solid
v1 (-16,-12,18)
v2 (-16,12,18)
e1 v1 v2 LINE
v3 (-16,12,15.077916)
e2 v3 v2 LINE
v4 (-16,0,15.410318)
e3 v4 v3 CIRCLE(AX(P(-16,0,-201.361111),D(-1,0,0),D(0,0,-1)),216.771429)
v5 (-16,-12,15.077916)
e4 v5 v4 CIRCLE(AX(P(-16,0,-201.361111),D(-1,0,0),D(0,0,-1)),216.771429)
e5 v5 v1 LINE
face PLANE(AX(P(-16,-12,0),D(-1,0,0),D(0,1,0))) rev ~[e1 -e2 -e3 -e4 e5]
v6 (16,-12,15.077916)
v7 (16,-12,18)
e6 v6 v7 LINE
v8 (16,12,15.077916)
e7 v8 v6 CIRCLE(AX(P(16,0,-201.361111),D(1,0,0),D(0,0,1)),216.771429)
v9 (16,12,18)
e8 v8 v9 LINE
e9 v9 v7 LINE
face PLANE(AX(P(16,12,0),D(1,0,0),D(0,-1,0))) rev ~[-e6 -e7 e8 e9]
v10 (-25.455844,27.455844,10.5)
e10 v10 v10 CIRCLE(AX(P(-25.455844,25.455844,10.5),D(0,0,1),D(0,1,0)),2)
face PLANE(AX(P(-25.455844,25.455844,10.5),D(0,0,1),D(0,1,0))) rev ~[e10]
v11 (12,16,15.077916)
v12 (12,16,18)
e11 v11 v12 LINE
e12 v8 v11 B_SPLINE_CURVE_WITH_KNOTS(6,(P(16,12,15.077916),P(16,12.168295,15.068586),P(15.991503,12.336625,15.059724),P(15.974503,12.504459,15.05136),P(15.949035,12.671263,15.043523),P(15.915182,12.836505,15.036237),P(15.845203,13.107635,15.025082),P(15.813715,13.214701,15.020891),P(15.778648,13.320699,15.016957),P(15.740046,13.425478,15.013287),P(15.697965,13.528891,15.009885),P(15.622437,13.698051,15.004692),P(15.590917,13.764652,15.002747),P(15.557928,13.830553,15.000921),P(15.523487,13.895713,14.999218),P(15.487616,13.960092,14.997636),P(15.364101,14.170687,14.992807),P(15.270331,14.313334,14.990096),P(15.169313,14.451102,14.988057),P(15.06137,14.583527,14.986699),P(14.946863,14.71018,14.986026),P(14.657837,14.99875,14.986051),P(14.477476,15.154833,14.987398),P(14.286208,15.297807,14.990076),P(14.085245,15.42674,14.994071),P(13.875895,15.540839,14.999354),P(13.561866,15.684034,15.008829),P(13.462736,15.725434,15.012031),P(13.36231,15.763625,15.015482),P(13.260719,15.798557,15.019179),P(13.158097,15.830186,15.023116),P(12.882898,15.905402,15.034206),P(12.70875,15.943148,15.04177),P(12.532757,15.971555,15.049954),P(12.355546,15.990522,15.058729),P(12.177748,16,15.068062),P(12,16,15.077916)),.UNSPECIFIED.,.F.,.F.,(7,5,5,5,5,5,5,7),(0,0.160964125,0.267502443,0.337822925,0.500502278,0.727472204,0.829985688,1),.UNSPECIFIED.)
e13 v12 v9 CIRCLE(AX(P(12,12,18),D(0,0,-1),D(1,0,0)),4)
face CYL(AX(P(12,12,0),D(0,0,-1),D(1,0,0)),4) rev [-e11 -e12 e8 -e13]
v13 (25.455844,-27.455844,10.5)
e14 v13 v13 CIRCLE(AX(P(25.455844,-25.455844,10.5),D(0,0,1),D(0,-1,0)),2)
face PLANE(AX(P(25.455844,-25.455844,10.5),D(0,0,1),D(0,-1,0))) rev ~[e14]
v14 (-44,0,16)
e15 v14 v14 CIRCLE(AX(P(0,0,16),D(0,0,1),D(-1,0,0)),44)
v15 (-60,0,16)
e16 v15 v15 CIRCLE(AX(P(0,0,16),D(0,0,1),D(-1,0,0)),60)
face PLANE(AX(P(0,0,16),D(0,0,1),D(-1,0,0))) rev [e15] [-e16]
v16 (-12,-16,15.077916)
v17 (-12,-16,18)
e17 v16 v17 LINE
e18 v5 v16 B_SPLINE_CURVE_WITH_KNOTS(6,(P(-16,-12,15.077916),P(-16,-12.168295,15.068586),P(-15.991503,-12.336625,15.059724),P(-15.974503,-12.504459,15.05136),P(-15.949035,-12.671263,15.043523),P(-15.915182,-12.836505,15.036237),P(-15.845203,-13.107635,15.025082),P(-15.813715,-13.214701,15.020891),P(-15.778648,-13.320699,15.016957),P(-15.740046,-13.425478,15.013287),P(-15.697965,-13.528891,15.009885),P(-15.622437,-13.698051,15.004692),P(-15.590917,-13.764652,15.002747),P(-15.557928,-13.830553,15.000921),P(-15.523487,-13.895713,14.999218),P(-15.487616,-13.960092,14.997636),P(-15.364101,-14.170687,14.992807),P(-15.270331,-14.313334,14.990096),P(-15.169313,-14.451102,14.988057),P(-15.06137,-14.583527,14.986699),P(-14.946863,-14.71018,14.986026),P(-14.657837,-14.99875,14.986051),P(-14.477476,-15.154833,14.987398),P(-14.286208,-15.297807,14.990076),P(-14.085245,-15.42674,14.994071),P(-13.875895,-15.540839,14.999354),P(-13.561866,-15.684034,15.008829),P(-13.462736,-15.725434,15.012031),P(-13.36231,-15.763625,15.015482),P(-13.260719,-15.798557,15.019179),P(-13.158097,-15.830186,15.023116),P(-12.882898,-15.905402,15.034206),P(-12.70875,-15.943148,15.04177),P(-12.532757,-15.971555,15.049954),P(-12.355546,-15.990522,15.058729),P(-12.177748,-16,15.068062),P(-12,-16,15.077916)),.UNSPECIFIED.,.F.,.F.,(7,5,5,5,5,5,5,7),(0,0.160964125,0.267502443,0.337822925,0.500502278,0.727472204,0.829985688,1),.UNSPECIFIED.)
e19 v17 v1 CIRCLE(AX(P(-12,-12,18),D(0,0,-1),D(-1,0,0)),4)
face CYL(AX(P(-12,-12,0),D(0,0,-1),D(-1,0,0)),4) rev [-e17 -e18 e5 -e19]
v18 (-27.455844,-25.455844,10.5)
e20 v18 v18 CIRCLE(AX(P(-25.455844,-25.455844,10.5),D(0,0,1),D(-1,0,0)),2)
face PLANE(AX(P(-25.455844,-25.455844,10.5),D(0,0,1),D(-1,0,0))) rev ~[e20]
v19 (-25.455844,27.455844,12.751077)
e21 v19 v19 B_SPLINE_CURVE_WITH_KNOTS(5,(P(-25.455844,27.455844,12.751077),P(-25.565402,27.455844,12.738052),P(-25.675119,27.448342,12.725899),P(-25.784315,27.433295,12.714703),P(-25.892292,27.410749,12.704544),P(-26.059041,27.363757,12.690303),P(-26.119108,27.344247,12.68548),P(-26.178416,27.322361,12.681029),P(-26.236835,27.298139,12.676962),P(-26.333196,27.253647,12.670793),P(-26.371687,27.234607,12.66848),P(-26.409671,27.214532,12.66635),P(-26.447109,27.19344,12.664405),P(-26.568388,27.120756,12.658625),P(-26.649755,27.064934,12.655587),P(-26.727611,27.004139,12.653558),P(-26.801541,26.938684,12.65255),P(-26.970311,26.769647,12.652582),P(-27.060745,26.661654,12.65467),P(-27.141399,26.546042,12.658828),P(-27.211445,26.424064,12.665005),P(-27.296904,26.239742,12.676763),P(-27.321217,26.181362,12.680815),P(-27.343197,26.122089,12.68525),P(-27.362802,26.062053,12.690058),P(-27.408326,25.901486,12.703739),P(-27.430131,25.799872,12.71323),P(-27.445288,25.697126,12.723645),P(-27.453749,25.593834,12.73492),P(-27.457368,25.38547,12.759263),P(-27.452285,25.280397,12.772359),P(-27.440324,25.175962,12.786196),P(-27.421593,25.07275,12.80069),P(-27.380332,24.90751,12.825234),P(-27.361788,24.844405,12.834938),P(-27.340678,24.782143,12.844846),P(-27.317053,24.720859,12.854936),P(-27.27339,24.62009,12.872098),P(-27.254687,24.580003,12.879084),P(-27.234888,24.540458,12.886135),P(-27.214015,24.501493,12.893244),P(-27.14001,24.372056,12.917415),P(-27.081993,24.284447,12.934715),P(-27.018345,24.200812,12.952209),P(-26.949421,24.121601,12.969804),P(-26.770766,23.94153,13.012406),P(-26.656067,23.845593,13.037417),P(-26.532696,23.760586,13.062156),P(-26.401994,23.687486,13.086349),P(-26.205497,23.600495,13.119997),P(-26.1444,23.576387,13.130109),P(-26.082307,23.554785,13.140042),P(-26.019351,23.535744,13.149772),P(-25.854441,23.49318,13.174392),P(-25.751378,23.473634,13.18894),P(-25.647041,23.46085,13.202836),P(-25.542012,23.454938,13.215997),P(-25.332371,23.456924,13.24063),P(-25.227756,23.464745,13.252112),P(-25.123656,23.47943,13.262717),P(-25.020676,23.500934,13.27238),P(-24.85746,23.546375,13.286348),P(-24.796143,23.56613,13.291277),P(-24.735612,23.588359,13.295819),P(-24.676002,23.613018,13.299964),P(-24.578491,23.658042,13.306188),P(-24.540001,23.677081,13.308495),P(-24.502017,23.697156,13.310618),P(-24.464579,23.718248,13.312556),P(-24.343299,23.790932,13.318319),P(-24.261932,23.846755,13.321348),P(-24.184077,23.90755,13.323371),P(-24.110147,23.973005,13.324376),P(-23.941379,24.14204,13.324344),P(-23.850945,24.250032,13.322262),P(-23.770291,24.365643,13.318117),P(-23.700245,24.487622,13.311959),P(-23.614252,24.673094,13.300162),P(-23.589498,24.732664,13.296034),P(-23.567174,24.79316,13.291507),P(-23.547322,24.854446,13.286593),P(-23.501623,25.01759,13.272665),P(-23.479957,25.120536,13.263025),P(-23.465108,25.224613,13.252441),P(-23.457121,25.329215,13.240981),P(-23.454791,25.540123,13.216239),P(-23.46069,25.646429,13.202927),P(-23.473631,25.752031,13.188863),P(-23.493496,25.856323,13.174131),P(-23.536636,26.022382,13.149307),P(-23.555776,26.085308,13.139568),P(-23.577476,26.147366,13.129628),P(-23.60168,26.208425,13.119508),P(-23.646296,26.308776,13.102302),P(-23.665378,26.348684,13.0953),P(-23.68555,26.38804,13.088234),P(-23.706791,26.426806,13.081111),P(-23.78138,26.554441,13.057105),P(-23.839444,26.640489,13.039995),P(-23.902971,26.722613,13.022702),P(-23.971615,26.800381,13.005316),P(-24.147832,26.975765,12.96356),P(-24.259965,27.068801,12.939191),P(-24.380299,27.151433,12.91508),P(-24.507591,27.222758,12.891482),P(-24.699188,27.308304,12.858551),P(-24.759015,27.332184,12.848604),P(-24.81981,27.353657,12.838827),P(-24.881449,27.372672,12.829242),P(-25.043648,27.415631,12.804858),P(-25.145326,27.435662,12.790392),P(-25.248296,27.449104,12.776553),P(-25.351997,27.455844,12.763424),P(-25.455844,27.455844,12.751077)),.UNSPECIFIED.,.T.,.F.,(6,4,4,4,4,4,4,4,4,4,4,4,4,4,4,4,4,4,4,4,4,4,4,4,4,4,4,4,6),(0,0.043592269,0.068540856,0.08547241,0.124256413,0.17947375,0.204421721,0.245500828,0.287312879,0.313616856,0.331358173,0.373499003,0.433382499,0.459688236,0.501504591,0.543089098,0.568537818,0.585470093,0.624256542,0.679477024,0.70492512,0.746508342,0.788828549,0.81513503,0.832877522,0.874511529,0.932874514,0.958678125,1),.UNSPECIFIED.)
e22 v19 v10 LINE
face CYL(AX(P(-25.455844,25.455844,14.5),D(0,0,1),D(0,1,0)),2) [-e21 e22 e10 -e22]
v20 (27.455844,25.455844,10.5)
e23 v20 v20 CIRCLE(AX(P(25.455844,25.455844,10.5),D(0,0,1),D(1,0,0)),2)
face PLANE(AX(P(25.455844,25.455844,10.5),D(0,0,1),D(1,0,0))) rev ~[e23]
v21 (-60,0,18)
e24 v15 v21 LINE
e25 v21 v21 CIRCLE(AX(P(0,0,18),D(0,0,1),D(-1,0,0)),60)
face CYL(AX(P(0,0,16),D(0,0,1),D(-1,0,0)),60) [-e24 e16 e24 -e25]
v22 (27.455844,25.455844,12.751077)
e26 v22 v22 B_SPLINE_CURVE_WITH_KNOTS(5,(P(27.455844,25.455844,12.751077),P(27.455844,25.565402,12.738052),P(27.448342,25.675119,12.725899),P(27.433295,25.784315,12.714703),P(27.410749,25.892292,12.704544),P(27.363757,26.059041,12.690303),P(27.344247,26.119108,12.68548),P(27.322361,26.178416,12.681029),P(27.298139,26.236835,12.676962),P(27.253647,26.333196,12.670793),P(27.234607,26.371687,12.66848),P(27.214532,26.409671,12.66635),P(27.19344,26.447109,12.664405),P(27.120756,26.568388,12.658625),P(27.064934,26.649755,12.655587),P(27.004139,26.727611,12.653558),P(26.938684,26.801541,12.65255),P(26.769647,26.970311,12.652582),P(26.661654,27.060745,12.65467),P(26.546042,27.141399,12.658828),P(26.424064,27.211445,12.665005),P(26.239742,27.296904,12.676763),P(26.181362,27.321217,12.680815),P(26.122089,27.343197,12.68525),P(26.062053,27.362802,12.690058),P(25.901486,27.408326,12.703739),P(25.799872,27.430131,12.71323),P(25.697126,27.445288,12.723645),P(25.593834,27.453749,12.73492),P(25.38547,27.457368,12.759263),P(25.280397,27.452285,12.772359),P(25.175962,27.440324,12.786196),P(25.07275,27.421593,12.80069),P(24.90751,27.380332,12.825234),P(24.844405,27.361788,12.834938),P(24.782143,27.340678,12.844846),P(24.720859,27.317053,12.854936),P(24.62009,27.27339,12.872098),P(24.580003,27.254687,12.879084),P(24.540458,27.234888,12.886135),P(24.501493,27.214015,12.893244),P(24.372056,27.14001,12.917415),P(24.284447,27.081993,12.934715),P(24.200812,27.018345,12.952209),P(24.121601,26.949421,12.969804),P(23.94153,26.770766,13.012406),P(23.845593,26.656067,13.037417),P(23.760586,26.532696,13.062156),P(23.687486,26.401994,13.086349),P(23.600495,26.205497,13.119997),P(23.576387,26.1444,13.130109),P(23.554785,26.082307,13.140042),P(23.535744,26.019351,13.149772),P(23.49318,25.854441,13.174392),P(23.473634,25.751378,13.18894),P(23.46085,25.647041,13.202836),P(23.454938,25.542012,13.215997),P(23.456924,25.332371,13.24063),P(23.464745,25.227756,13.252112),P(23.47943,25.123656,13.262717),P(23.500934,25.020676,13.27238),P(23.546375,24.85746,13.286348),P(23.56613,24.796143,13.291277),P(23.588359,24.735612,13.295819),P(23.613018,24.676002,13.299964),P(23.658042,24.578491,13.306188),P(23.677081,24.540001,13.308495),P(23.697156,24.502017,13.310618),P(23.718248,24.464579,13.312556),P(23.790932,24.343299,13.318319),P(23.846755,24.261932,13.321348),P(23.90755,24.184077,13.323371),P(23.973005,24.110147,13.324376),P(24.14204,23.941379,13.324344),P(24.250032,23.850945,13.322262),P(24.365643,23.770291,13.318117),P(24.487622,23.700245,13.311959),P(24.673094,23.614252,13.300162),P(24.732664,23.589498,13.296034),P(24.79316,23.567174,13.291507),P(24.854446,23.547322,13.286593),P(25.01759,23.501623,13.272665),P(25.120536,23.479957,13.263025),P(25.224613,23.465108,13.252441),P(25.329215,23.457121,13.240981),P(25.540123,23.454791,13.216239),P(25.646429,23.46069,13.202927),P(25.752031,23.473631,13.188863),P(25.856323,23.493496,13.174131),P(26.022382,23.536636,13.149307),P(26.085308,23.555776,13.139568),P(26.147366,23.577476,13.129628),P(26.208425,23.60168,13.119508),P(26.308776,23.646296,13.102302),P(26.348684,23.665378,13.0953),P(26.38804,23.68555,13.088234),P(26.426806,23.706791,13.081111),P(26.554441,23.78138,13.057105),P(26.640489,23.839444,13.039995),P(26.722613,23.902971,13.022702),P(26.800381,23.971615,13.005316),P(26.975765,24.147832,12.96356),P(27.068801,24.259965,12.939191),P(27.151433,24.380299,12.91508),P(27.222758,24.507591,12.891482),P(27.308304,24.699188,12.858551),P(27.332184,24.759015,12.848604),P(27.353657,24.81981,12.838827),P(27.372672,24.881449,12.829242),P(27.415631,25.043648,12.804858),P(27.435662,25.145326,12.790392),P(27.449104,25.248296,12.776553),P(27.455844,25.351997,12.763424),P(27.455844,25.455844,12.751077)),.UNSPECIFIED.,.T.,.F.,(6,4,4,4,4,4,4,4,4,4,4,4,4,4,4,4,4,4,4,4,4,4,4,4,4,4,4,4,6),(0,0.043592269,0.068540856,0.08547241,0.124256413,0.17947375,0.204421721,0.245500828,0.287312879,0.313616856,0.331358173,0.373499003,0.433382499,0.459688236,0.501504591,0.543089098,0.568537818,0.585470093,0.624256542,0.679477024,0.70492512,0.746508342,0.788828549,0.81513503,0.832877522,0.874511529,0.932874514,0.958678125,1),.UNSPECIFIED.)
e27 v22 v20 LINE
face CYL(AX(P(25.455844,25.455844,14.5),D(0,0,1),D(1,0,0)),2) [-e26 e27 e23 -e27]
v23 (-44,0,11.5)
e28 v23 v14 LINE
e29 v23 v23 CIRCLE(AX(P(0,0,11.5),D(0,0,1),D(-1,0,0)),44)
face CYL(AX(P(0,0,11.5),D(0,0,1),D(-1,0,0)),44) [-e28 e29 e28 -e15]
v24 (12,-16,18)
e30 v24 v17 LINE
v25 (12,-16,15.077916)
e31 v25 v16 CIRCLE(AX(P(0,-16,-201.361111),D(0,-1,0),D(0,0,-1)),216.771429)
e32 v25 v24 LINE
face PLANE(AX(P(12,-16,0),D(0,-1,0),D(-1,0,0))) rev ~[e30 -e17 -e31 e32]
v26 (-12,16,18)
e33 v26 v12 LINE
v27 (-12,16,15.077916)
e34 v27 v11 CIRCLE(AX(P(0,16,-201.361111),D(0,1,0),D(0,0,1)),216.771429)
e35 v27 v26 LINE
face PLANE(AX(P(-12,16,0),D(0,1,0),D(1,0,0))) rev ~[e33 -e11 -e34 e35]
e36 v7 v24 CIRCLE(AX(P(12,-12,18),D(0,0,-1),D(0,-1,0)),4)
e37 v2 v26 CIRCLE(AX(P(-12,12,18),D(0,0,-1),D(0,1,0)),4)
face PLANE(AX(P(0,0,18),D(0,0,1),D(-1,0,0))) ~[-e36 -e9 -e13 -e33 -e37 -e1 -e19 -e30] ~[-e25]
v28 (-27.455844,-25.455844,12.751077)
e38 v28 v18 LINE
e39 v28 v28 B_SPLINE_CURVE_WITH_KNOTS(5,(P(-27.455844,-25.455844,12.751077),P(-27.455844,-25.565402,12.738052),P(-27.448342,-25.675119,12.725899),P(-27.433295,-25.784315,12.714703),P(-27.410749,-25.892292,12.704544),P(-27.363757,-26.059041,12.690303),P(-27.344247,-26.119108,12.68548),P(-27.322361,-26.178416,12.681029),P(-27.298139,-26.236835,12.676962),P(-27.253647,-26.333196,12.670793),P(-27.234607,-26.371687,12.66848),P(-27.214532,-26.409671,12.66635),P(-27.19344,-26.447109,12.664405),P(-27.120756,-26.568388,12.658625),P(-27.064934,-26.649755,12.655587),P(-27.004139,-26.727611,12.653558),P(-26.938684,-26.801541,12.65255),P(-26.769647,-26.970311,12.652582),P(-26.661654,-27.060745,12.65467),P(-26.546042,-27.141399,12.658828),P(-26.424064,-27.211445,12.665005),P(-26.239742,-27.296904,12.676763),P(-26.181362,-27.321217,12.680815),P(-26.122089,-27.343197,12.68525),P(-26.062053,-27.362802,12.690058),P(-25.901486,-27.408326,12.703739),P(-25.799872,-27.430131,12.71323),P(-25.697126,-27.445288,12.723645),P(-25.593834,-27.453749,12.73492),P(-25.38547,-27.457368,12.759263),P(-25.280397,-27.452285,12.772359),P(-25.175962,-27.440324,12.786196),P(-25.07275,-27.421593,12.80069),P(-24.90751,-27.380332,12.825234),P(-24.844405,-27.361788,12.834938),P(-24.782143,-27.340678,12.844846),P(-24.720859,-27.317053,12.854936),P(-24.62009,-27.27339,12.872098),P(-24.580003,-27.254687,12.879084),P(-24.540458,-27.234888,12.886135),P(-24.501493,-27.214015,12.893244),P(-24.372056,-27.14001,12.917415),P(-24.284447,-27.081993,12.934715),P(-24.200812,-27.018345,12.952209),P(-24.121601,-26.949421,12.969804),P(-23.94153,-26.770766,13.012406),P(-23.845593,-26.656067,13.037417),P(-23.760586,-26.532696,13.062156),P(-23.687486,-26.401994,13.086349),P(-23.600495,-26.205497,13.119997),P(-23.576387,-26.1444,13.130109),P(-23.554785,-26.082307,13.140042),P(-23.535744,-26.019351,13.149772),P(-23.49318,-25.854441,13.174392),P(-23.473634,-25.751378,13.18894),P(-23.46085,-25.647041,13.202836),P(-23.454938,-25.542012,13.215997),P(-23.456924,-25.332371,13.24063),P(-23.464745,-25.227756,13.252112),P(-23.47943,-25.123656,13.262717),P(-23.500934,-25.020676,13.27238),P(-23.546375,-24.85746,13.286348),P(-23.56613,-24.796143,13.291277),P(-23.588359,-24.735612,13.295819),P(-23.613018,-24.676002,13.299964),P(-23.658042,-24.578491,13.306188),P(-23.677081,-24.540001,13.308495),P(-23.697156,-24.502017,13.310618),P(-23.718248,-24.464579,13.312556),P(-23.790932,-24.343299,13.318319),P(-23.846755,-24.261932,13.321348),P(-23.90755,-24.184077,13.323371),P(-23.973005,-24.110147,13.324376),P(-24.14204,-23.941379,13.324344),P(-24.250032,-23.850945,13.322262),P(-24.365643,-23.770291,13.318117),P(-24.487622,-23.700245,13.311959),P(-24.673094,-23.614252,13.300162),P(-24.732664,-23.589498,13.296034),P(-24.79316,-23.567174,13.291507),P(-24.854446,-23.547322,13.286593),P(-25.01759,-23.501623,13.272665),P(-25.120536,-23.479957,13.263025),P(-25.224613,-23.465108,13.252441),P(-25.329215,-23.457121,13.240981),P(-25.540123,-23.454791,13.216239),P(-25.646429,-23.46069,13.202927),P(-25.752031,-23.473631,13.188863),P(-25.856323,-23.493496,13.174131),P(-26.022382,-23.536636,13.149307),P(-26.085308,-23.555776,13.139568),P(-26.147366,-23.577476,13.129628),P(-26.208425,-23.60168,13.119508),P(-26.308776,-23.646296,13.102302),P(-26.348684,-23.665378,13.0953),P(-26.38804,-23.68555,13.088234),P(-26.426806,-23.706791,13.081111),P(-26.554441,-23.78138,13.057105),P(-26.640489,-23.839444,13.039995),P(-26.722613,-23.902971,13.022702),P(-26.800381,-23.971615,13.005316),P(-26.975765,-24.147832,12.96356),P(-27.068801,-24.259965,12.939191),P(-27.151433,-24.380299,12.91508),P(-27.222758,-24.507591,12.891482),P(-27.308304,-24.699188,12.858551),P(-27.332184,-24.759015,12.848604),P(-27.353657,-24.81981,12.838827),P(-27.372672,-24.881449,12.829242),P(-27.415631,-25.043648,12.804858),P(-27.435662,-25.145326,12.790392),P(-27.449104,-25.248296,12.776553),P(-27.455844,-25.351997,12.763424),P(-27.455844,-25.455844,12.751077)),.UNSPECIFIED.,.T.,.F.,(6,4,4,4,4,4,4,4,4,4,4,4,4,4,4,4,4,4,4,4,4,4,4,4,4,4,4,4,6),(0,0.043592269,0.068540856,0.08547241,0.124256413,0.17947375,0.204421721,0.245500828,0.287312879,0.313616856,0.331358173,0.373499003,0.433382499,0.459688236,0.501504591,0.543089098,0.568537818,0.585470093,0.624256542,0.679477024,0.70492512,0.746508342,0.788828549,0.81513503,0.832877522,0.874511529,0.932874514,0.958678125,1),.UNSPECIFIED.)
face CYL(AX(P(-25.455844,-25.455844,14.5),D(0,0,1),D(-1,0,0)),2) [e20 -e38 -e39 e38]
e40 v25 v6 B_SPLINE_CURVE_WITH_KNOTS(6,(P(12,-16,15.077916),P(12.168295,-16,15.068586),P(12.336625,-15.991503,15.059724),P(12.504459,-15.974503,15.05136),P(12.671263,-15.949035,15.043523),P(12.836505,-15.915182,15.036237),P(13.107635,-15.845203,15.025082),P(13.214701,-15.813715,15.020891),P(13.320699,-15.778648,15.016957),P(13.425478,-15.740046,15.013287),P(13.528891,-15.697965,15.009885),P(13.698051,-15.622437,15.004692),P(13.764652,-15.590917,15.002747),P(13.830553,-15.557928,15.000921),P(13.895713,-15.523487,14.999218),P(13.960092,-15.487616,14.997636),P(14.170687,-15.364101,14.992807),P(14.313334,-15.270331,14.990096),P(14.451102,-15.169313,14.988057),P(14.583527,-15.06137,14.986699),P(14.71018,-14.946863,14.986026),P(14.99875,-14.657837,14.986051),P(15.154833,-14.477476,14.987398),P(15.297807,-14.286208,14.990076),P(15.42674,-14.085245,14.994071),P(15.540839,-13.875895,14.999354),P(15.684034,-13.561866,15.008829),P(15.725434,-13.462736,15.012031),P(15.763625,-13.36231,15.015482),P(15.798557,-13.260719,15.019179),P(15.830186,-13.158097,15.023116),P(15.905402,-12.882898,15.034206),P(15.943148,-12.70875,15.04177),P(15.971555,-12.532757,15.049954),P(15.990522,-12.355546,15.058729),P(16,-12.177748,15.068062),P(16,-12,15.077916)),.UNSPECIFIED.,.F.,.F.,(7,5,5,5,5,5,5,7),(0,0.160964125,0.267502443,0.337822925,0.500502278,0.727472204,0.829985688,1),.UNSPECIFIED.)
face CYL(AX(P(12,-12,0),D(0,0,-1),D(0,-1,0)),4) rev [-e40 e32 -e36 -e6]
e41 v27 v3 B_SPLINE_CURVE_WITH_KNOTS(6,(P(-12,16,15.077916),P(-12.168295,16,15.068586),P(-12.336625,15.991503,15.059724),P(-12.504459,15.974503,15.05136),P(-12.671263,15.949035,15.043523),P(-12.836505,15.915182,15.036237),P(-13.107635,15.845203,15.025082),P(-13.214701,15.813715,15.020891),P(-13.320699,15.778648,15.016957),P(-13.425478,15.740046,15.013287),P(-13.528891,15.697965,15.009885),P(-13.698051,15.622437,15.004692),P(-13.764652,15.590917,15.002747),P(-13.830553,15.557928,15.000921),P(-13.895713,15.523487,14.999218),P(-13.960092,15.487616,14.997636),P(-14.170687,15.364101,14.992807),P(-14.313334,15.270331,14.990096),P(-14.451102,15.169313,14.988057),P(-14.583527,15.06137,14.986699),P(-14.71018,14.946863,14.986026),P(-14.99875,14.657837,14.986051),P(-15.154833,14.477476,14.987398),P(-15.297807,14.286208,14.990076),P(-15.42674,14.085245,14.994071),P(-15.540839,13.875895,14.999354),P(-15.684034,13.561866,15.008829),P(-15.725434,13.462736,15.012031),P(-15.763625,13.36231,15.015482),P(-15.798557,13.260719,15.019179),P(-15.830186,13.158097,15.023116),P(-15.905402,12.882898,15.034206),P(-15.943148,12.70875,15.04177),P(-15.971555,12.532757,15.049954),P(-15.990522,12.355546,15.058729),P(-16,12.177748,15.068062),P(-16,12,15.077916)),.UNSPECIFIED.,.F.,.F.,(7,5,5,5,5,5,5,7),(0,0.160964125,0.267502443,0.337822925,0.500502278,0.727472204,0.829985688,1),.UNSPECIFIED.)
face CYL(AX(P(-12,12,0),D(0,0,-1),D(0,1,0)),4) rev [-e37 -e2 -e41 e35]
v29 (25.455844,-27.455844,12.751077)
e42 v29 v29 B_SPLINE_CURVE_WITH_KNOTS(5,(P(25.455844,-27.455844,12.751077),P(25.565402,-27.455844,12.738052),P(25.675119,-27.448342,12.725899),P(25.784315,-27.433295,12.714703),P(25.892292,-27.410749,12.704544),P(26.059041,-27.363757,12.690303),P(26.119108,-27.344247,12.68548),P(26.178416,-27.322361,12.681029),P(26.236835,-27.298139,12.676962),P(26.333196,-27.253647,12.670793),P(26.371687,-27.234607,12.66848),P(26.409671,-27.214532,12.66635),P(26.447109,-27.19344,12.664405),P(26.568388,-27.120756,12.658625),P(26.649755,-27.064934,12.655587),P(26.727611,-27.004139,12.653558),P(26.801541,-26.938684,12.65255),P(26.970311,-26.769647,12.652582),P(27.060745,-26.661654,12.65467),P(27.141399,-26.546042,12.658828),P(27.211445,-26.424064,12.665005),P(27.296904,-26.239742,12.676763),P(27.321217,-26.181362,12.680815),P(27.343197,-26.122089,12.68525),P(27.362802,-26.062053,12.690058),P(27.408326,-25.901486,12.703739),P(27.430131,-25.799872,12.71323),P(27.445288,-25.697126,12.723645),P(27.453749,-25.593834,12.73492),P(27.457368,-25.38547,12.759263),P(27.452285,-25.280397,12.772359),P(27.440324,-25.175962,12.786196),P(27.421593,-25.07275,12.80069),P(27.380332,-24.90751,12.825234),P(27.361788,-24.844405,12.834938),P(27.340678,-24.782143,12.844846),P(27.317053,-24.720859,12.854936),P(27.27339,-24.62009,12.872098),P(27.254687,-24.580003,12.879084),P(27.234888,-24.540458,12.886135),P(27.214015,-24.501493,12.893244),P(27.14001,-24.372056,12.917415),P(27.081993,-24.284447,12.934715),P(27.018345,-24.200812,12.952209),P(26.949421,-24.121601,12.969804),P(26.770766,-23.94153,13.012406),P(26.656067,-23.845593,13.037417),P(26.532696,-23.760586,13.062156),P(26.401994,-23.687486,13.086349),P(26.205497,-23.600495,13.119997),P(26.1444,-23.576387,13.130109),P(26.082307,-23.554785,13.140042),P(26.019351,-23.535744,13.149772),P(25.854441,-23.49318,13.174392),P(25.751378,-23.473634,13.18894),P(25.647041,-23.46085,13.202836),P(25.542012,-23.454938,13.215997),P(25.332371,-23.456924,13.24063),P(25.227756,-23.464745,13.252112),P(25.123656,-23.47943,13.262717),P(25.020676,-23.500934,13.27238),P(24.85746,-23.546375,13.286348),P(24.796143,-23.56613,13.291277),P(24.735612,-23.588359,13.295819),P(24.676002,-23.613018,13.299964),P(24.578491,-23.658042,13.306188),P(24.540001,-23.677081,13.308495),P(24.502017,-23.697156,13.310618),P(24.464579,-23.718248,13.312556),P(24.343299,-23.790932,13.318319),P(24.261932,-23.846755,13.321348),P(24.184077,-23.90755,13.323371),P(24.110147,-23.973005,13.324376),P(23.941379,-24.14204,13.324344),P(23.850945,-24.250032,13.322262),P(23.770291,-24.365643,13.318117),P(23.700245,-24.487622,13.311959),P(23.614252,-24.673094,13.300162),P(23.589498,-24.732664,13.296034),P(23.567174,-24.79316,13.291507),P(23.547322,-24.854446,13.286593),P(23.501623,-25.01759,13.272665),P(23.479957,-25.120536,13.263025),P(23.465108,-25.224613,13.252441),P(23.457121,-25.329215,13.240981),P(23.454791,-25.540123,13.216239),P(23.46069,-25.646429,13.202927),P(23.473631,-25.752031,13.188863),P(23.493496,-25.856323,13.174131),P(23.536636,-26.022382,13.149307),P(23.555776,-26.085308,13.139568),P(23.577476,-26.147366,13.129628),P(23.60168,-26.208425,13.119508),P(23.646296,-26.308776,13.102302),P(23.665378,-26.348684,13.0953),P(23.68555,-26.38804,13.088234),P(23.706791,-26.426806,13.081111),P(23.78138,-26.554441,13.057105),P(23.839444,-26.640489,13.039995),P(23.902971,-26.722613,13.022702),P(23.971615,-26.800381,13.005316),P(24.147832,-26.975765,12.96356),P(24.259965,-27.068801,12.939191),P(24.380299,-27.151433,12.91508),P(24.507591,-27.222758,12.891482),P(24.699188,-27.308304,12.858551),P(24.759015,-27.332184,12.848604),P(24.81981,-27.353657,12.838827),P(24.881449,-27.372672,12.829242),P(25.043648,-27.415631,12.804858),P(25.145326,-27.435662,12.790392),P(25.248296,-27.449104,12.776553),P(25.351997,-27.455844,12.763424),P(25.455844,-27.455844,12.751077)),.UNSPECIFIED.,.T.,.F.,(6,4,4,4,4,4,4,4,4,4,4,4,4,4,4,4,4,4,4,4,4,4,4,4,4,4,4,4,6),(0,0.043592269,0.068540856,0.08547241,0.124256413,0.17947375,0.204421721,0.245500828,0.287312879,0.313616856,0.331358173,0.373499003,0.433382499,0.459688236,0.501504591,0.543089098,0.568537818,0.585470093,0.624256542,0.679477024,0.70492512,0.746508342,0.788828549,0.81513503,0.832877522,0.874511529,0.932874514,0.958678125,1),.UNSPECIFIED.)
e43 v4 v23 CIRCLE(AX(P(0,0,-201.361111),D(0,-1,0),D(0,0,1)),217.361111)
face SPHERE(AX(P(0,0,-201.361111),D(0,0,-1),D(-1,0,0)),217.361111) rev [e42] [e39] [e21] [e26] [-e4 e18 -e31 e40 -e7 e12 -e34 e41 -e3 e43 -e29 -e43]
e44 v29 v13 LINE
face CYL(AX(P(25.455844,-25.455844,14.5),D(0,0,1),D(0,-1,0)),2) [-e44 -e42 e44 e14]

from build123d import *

# Parameters (mm, degrees)
POCKET060_DEPTH       = 100
SKETCH263_R           = 2
PAD089_DEPTH          = 4
POLARPATTERN001_COUNT = 4


with BuildPart() as part:
    # Sketch113 → Revolution002 (revolve)
    with BuildSketch(Plane.XZ):
        with BuildLine():
            ThreePointArc((0, 16), (-22.1147575162, 14.8720734917), (-44, 11.5))
            Line((-44, 11.5), (-44, 16))
            Line((-44, 16), (-60, 16))
            Line((-60, 16), (-60, 18))
            Line((0, 18), (-60, 18))
            Line((0, 16), (0, 18))
        make_face()
    revolve(axis=Axis((0, 0, 0), (0, 0, 1)))

    # Sketch114 → Pocket060 (cut)
    with BuildSketch(Plane.XY):
        with BuildLine():
            Line((-12, 16), (12, 16))
            ThreePointArc((16, 12), (14.8284271247, 14.8284271247), (12, 16))
            Line((16, 12), (16, -12))
            ThreePointArc((12, -16), (14.8284271247, -14.8284271247), (16, -12))
            Line((12, -16), (-12, -16))
            ThreePointArc((-16, -12), (-14.8284271247, -14.8284271247), (-12, -16))
            Line((-16, -12), (-16, 12))
            ThreePointArc((-12, 16), (-14.8284271247, 14.8284271247), (-16, 12))
        make_face()
    extrude(amount=POCKET060_DEPTH, mode=Mode.SUBTRACT)

    # Sketch263 → Pad089 (join)
    with BuildSketch(Plane.XY.offset(14.5)):
        with Locations((25.4558441227, 25.4558441227)):
            Circle(SKETCH263_R)
    pad089 = extrude(amount=-PAD089_DEPTH)

    # PolarPattern001: Pad089 ×4 about axis
    polarpattern001_axis = Axis((0, 0, 14.5), (0, 0, 1))
    for i in range(1, POLARPATTERN001_COUNT):
        add(pad089.rotate(polarpattern001_axis, i * 360 / POLARPATTERN001_COUNT))


solid = part.part
